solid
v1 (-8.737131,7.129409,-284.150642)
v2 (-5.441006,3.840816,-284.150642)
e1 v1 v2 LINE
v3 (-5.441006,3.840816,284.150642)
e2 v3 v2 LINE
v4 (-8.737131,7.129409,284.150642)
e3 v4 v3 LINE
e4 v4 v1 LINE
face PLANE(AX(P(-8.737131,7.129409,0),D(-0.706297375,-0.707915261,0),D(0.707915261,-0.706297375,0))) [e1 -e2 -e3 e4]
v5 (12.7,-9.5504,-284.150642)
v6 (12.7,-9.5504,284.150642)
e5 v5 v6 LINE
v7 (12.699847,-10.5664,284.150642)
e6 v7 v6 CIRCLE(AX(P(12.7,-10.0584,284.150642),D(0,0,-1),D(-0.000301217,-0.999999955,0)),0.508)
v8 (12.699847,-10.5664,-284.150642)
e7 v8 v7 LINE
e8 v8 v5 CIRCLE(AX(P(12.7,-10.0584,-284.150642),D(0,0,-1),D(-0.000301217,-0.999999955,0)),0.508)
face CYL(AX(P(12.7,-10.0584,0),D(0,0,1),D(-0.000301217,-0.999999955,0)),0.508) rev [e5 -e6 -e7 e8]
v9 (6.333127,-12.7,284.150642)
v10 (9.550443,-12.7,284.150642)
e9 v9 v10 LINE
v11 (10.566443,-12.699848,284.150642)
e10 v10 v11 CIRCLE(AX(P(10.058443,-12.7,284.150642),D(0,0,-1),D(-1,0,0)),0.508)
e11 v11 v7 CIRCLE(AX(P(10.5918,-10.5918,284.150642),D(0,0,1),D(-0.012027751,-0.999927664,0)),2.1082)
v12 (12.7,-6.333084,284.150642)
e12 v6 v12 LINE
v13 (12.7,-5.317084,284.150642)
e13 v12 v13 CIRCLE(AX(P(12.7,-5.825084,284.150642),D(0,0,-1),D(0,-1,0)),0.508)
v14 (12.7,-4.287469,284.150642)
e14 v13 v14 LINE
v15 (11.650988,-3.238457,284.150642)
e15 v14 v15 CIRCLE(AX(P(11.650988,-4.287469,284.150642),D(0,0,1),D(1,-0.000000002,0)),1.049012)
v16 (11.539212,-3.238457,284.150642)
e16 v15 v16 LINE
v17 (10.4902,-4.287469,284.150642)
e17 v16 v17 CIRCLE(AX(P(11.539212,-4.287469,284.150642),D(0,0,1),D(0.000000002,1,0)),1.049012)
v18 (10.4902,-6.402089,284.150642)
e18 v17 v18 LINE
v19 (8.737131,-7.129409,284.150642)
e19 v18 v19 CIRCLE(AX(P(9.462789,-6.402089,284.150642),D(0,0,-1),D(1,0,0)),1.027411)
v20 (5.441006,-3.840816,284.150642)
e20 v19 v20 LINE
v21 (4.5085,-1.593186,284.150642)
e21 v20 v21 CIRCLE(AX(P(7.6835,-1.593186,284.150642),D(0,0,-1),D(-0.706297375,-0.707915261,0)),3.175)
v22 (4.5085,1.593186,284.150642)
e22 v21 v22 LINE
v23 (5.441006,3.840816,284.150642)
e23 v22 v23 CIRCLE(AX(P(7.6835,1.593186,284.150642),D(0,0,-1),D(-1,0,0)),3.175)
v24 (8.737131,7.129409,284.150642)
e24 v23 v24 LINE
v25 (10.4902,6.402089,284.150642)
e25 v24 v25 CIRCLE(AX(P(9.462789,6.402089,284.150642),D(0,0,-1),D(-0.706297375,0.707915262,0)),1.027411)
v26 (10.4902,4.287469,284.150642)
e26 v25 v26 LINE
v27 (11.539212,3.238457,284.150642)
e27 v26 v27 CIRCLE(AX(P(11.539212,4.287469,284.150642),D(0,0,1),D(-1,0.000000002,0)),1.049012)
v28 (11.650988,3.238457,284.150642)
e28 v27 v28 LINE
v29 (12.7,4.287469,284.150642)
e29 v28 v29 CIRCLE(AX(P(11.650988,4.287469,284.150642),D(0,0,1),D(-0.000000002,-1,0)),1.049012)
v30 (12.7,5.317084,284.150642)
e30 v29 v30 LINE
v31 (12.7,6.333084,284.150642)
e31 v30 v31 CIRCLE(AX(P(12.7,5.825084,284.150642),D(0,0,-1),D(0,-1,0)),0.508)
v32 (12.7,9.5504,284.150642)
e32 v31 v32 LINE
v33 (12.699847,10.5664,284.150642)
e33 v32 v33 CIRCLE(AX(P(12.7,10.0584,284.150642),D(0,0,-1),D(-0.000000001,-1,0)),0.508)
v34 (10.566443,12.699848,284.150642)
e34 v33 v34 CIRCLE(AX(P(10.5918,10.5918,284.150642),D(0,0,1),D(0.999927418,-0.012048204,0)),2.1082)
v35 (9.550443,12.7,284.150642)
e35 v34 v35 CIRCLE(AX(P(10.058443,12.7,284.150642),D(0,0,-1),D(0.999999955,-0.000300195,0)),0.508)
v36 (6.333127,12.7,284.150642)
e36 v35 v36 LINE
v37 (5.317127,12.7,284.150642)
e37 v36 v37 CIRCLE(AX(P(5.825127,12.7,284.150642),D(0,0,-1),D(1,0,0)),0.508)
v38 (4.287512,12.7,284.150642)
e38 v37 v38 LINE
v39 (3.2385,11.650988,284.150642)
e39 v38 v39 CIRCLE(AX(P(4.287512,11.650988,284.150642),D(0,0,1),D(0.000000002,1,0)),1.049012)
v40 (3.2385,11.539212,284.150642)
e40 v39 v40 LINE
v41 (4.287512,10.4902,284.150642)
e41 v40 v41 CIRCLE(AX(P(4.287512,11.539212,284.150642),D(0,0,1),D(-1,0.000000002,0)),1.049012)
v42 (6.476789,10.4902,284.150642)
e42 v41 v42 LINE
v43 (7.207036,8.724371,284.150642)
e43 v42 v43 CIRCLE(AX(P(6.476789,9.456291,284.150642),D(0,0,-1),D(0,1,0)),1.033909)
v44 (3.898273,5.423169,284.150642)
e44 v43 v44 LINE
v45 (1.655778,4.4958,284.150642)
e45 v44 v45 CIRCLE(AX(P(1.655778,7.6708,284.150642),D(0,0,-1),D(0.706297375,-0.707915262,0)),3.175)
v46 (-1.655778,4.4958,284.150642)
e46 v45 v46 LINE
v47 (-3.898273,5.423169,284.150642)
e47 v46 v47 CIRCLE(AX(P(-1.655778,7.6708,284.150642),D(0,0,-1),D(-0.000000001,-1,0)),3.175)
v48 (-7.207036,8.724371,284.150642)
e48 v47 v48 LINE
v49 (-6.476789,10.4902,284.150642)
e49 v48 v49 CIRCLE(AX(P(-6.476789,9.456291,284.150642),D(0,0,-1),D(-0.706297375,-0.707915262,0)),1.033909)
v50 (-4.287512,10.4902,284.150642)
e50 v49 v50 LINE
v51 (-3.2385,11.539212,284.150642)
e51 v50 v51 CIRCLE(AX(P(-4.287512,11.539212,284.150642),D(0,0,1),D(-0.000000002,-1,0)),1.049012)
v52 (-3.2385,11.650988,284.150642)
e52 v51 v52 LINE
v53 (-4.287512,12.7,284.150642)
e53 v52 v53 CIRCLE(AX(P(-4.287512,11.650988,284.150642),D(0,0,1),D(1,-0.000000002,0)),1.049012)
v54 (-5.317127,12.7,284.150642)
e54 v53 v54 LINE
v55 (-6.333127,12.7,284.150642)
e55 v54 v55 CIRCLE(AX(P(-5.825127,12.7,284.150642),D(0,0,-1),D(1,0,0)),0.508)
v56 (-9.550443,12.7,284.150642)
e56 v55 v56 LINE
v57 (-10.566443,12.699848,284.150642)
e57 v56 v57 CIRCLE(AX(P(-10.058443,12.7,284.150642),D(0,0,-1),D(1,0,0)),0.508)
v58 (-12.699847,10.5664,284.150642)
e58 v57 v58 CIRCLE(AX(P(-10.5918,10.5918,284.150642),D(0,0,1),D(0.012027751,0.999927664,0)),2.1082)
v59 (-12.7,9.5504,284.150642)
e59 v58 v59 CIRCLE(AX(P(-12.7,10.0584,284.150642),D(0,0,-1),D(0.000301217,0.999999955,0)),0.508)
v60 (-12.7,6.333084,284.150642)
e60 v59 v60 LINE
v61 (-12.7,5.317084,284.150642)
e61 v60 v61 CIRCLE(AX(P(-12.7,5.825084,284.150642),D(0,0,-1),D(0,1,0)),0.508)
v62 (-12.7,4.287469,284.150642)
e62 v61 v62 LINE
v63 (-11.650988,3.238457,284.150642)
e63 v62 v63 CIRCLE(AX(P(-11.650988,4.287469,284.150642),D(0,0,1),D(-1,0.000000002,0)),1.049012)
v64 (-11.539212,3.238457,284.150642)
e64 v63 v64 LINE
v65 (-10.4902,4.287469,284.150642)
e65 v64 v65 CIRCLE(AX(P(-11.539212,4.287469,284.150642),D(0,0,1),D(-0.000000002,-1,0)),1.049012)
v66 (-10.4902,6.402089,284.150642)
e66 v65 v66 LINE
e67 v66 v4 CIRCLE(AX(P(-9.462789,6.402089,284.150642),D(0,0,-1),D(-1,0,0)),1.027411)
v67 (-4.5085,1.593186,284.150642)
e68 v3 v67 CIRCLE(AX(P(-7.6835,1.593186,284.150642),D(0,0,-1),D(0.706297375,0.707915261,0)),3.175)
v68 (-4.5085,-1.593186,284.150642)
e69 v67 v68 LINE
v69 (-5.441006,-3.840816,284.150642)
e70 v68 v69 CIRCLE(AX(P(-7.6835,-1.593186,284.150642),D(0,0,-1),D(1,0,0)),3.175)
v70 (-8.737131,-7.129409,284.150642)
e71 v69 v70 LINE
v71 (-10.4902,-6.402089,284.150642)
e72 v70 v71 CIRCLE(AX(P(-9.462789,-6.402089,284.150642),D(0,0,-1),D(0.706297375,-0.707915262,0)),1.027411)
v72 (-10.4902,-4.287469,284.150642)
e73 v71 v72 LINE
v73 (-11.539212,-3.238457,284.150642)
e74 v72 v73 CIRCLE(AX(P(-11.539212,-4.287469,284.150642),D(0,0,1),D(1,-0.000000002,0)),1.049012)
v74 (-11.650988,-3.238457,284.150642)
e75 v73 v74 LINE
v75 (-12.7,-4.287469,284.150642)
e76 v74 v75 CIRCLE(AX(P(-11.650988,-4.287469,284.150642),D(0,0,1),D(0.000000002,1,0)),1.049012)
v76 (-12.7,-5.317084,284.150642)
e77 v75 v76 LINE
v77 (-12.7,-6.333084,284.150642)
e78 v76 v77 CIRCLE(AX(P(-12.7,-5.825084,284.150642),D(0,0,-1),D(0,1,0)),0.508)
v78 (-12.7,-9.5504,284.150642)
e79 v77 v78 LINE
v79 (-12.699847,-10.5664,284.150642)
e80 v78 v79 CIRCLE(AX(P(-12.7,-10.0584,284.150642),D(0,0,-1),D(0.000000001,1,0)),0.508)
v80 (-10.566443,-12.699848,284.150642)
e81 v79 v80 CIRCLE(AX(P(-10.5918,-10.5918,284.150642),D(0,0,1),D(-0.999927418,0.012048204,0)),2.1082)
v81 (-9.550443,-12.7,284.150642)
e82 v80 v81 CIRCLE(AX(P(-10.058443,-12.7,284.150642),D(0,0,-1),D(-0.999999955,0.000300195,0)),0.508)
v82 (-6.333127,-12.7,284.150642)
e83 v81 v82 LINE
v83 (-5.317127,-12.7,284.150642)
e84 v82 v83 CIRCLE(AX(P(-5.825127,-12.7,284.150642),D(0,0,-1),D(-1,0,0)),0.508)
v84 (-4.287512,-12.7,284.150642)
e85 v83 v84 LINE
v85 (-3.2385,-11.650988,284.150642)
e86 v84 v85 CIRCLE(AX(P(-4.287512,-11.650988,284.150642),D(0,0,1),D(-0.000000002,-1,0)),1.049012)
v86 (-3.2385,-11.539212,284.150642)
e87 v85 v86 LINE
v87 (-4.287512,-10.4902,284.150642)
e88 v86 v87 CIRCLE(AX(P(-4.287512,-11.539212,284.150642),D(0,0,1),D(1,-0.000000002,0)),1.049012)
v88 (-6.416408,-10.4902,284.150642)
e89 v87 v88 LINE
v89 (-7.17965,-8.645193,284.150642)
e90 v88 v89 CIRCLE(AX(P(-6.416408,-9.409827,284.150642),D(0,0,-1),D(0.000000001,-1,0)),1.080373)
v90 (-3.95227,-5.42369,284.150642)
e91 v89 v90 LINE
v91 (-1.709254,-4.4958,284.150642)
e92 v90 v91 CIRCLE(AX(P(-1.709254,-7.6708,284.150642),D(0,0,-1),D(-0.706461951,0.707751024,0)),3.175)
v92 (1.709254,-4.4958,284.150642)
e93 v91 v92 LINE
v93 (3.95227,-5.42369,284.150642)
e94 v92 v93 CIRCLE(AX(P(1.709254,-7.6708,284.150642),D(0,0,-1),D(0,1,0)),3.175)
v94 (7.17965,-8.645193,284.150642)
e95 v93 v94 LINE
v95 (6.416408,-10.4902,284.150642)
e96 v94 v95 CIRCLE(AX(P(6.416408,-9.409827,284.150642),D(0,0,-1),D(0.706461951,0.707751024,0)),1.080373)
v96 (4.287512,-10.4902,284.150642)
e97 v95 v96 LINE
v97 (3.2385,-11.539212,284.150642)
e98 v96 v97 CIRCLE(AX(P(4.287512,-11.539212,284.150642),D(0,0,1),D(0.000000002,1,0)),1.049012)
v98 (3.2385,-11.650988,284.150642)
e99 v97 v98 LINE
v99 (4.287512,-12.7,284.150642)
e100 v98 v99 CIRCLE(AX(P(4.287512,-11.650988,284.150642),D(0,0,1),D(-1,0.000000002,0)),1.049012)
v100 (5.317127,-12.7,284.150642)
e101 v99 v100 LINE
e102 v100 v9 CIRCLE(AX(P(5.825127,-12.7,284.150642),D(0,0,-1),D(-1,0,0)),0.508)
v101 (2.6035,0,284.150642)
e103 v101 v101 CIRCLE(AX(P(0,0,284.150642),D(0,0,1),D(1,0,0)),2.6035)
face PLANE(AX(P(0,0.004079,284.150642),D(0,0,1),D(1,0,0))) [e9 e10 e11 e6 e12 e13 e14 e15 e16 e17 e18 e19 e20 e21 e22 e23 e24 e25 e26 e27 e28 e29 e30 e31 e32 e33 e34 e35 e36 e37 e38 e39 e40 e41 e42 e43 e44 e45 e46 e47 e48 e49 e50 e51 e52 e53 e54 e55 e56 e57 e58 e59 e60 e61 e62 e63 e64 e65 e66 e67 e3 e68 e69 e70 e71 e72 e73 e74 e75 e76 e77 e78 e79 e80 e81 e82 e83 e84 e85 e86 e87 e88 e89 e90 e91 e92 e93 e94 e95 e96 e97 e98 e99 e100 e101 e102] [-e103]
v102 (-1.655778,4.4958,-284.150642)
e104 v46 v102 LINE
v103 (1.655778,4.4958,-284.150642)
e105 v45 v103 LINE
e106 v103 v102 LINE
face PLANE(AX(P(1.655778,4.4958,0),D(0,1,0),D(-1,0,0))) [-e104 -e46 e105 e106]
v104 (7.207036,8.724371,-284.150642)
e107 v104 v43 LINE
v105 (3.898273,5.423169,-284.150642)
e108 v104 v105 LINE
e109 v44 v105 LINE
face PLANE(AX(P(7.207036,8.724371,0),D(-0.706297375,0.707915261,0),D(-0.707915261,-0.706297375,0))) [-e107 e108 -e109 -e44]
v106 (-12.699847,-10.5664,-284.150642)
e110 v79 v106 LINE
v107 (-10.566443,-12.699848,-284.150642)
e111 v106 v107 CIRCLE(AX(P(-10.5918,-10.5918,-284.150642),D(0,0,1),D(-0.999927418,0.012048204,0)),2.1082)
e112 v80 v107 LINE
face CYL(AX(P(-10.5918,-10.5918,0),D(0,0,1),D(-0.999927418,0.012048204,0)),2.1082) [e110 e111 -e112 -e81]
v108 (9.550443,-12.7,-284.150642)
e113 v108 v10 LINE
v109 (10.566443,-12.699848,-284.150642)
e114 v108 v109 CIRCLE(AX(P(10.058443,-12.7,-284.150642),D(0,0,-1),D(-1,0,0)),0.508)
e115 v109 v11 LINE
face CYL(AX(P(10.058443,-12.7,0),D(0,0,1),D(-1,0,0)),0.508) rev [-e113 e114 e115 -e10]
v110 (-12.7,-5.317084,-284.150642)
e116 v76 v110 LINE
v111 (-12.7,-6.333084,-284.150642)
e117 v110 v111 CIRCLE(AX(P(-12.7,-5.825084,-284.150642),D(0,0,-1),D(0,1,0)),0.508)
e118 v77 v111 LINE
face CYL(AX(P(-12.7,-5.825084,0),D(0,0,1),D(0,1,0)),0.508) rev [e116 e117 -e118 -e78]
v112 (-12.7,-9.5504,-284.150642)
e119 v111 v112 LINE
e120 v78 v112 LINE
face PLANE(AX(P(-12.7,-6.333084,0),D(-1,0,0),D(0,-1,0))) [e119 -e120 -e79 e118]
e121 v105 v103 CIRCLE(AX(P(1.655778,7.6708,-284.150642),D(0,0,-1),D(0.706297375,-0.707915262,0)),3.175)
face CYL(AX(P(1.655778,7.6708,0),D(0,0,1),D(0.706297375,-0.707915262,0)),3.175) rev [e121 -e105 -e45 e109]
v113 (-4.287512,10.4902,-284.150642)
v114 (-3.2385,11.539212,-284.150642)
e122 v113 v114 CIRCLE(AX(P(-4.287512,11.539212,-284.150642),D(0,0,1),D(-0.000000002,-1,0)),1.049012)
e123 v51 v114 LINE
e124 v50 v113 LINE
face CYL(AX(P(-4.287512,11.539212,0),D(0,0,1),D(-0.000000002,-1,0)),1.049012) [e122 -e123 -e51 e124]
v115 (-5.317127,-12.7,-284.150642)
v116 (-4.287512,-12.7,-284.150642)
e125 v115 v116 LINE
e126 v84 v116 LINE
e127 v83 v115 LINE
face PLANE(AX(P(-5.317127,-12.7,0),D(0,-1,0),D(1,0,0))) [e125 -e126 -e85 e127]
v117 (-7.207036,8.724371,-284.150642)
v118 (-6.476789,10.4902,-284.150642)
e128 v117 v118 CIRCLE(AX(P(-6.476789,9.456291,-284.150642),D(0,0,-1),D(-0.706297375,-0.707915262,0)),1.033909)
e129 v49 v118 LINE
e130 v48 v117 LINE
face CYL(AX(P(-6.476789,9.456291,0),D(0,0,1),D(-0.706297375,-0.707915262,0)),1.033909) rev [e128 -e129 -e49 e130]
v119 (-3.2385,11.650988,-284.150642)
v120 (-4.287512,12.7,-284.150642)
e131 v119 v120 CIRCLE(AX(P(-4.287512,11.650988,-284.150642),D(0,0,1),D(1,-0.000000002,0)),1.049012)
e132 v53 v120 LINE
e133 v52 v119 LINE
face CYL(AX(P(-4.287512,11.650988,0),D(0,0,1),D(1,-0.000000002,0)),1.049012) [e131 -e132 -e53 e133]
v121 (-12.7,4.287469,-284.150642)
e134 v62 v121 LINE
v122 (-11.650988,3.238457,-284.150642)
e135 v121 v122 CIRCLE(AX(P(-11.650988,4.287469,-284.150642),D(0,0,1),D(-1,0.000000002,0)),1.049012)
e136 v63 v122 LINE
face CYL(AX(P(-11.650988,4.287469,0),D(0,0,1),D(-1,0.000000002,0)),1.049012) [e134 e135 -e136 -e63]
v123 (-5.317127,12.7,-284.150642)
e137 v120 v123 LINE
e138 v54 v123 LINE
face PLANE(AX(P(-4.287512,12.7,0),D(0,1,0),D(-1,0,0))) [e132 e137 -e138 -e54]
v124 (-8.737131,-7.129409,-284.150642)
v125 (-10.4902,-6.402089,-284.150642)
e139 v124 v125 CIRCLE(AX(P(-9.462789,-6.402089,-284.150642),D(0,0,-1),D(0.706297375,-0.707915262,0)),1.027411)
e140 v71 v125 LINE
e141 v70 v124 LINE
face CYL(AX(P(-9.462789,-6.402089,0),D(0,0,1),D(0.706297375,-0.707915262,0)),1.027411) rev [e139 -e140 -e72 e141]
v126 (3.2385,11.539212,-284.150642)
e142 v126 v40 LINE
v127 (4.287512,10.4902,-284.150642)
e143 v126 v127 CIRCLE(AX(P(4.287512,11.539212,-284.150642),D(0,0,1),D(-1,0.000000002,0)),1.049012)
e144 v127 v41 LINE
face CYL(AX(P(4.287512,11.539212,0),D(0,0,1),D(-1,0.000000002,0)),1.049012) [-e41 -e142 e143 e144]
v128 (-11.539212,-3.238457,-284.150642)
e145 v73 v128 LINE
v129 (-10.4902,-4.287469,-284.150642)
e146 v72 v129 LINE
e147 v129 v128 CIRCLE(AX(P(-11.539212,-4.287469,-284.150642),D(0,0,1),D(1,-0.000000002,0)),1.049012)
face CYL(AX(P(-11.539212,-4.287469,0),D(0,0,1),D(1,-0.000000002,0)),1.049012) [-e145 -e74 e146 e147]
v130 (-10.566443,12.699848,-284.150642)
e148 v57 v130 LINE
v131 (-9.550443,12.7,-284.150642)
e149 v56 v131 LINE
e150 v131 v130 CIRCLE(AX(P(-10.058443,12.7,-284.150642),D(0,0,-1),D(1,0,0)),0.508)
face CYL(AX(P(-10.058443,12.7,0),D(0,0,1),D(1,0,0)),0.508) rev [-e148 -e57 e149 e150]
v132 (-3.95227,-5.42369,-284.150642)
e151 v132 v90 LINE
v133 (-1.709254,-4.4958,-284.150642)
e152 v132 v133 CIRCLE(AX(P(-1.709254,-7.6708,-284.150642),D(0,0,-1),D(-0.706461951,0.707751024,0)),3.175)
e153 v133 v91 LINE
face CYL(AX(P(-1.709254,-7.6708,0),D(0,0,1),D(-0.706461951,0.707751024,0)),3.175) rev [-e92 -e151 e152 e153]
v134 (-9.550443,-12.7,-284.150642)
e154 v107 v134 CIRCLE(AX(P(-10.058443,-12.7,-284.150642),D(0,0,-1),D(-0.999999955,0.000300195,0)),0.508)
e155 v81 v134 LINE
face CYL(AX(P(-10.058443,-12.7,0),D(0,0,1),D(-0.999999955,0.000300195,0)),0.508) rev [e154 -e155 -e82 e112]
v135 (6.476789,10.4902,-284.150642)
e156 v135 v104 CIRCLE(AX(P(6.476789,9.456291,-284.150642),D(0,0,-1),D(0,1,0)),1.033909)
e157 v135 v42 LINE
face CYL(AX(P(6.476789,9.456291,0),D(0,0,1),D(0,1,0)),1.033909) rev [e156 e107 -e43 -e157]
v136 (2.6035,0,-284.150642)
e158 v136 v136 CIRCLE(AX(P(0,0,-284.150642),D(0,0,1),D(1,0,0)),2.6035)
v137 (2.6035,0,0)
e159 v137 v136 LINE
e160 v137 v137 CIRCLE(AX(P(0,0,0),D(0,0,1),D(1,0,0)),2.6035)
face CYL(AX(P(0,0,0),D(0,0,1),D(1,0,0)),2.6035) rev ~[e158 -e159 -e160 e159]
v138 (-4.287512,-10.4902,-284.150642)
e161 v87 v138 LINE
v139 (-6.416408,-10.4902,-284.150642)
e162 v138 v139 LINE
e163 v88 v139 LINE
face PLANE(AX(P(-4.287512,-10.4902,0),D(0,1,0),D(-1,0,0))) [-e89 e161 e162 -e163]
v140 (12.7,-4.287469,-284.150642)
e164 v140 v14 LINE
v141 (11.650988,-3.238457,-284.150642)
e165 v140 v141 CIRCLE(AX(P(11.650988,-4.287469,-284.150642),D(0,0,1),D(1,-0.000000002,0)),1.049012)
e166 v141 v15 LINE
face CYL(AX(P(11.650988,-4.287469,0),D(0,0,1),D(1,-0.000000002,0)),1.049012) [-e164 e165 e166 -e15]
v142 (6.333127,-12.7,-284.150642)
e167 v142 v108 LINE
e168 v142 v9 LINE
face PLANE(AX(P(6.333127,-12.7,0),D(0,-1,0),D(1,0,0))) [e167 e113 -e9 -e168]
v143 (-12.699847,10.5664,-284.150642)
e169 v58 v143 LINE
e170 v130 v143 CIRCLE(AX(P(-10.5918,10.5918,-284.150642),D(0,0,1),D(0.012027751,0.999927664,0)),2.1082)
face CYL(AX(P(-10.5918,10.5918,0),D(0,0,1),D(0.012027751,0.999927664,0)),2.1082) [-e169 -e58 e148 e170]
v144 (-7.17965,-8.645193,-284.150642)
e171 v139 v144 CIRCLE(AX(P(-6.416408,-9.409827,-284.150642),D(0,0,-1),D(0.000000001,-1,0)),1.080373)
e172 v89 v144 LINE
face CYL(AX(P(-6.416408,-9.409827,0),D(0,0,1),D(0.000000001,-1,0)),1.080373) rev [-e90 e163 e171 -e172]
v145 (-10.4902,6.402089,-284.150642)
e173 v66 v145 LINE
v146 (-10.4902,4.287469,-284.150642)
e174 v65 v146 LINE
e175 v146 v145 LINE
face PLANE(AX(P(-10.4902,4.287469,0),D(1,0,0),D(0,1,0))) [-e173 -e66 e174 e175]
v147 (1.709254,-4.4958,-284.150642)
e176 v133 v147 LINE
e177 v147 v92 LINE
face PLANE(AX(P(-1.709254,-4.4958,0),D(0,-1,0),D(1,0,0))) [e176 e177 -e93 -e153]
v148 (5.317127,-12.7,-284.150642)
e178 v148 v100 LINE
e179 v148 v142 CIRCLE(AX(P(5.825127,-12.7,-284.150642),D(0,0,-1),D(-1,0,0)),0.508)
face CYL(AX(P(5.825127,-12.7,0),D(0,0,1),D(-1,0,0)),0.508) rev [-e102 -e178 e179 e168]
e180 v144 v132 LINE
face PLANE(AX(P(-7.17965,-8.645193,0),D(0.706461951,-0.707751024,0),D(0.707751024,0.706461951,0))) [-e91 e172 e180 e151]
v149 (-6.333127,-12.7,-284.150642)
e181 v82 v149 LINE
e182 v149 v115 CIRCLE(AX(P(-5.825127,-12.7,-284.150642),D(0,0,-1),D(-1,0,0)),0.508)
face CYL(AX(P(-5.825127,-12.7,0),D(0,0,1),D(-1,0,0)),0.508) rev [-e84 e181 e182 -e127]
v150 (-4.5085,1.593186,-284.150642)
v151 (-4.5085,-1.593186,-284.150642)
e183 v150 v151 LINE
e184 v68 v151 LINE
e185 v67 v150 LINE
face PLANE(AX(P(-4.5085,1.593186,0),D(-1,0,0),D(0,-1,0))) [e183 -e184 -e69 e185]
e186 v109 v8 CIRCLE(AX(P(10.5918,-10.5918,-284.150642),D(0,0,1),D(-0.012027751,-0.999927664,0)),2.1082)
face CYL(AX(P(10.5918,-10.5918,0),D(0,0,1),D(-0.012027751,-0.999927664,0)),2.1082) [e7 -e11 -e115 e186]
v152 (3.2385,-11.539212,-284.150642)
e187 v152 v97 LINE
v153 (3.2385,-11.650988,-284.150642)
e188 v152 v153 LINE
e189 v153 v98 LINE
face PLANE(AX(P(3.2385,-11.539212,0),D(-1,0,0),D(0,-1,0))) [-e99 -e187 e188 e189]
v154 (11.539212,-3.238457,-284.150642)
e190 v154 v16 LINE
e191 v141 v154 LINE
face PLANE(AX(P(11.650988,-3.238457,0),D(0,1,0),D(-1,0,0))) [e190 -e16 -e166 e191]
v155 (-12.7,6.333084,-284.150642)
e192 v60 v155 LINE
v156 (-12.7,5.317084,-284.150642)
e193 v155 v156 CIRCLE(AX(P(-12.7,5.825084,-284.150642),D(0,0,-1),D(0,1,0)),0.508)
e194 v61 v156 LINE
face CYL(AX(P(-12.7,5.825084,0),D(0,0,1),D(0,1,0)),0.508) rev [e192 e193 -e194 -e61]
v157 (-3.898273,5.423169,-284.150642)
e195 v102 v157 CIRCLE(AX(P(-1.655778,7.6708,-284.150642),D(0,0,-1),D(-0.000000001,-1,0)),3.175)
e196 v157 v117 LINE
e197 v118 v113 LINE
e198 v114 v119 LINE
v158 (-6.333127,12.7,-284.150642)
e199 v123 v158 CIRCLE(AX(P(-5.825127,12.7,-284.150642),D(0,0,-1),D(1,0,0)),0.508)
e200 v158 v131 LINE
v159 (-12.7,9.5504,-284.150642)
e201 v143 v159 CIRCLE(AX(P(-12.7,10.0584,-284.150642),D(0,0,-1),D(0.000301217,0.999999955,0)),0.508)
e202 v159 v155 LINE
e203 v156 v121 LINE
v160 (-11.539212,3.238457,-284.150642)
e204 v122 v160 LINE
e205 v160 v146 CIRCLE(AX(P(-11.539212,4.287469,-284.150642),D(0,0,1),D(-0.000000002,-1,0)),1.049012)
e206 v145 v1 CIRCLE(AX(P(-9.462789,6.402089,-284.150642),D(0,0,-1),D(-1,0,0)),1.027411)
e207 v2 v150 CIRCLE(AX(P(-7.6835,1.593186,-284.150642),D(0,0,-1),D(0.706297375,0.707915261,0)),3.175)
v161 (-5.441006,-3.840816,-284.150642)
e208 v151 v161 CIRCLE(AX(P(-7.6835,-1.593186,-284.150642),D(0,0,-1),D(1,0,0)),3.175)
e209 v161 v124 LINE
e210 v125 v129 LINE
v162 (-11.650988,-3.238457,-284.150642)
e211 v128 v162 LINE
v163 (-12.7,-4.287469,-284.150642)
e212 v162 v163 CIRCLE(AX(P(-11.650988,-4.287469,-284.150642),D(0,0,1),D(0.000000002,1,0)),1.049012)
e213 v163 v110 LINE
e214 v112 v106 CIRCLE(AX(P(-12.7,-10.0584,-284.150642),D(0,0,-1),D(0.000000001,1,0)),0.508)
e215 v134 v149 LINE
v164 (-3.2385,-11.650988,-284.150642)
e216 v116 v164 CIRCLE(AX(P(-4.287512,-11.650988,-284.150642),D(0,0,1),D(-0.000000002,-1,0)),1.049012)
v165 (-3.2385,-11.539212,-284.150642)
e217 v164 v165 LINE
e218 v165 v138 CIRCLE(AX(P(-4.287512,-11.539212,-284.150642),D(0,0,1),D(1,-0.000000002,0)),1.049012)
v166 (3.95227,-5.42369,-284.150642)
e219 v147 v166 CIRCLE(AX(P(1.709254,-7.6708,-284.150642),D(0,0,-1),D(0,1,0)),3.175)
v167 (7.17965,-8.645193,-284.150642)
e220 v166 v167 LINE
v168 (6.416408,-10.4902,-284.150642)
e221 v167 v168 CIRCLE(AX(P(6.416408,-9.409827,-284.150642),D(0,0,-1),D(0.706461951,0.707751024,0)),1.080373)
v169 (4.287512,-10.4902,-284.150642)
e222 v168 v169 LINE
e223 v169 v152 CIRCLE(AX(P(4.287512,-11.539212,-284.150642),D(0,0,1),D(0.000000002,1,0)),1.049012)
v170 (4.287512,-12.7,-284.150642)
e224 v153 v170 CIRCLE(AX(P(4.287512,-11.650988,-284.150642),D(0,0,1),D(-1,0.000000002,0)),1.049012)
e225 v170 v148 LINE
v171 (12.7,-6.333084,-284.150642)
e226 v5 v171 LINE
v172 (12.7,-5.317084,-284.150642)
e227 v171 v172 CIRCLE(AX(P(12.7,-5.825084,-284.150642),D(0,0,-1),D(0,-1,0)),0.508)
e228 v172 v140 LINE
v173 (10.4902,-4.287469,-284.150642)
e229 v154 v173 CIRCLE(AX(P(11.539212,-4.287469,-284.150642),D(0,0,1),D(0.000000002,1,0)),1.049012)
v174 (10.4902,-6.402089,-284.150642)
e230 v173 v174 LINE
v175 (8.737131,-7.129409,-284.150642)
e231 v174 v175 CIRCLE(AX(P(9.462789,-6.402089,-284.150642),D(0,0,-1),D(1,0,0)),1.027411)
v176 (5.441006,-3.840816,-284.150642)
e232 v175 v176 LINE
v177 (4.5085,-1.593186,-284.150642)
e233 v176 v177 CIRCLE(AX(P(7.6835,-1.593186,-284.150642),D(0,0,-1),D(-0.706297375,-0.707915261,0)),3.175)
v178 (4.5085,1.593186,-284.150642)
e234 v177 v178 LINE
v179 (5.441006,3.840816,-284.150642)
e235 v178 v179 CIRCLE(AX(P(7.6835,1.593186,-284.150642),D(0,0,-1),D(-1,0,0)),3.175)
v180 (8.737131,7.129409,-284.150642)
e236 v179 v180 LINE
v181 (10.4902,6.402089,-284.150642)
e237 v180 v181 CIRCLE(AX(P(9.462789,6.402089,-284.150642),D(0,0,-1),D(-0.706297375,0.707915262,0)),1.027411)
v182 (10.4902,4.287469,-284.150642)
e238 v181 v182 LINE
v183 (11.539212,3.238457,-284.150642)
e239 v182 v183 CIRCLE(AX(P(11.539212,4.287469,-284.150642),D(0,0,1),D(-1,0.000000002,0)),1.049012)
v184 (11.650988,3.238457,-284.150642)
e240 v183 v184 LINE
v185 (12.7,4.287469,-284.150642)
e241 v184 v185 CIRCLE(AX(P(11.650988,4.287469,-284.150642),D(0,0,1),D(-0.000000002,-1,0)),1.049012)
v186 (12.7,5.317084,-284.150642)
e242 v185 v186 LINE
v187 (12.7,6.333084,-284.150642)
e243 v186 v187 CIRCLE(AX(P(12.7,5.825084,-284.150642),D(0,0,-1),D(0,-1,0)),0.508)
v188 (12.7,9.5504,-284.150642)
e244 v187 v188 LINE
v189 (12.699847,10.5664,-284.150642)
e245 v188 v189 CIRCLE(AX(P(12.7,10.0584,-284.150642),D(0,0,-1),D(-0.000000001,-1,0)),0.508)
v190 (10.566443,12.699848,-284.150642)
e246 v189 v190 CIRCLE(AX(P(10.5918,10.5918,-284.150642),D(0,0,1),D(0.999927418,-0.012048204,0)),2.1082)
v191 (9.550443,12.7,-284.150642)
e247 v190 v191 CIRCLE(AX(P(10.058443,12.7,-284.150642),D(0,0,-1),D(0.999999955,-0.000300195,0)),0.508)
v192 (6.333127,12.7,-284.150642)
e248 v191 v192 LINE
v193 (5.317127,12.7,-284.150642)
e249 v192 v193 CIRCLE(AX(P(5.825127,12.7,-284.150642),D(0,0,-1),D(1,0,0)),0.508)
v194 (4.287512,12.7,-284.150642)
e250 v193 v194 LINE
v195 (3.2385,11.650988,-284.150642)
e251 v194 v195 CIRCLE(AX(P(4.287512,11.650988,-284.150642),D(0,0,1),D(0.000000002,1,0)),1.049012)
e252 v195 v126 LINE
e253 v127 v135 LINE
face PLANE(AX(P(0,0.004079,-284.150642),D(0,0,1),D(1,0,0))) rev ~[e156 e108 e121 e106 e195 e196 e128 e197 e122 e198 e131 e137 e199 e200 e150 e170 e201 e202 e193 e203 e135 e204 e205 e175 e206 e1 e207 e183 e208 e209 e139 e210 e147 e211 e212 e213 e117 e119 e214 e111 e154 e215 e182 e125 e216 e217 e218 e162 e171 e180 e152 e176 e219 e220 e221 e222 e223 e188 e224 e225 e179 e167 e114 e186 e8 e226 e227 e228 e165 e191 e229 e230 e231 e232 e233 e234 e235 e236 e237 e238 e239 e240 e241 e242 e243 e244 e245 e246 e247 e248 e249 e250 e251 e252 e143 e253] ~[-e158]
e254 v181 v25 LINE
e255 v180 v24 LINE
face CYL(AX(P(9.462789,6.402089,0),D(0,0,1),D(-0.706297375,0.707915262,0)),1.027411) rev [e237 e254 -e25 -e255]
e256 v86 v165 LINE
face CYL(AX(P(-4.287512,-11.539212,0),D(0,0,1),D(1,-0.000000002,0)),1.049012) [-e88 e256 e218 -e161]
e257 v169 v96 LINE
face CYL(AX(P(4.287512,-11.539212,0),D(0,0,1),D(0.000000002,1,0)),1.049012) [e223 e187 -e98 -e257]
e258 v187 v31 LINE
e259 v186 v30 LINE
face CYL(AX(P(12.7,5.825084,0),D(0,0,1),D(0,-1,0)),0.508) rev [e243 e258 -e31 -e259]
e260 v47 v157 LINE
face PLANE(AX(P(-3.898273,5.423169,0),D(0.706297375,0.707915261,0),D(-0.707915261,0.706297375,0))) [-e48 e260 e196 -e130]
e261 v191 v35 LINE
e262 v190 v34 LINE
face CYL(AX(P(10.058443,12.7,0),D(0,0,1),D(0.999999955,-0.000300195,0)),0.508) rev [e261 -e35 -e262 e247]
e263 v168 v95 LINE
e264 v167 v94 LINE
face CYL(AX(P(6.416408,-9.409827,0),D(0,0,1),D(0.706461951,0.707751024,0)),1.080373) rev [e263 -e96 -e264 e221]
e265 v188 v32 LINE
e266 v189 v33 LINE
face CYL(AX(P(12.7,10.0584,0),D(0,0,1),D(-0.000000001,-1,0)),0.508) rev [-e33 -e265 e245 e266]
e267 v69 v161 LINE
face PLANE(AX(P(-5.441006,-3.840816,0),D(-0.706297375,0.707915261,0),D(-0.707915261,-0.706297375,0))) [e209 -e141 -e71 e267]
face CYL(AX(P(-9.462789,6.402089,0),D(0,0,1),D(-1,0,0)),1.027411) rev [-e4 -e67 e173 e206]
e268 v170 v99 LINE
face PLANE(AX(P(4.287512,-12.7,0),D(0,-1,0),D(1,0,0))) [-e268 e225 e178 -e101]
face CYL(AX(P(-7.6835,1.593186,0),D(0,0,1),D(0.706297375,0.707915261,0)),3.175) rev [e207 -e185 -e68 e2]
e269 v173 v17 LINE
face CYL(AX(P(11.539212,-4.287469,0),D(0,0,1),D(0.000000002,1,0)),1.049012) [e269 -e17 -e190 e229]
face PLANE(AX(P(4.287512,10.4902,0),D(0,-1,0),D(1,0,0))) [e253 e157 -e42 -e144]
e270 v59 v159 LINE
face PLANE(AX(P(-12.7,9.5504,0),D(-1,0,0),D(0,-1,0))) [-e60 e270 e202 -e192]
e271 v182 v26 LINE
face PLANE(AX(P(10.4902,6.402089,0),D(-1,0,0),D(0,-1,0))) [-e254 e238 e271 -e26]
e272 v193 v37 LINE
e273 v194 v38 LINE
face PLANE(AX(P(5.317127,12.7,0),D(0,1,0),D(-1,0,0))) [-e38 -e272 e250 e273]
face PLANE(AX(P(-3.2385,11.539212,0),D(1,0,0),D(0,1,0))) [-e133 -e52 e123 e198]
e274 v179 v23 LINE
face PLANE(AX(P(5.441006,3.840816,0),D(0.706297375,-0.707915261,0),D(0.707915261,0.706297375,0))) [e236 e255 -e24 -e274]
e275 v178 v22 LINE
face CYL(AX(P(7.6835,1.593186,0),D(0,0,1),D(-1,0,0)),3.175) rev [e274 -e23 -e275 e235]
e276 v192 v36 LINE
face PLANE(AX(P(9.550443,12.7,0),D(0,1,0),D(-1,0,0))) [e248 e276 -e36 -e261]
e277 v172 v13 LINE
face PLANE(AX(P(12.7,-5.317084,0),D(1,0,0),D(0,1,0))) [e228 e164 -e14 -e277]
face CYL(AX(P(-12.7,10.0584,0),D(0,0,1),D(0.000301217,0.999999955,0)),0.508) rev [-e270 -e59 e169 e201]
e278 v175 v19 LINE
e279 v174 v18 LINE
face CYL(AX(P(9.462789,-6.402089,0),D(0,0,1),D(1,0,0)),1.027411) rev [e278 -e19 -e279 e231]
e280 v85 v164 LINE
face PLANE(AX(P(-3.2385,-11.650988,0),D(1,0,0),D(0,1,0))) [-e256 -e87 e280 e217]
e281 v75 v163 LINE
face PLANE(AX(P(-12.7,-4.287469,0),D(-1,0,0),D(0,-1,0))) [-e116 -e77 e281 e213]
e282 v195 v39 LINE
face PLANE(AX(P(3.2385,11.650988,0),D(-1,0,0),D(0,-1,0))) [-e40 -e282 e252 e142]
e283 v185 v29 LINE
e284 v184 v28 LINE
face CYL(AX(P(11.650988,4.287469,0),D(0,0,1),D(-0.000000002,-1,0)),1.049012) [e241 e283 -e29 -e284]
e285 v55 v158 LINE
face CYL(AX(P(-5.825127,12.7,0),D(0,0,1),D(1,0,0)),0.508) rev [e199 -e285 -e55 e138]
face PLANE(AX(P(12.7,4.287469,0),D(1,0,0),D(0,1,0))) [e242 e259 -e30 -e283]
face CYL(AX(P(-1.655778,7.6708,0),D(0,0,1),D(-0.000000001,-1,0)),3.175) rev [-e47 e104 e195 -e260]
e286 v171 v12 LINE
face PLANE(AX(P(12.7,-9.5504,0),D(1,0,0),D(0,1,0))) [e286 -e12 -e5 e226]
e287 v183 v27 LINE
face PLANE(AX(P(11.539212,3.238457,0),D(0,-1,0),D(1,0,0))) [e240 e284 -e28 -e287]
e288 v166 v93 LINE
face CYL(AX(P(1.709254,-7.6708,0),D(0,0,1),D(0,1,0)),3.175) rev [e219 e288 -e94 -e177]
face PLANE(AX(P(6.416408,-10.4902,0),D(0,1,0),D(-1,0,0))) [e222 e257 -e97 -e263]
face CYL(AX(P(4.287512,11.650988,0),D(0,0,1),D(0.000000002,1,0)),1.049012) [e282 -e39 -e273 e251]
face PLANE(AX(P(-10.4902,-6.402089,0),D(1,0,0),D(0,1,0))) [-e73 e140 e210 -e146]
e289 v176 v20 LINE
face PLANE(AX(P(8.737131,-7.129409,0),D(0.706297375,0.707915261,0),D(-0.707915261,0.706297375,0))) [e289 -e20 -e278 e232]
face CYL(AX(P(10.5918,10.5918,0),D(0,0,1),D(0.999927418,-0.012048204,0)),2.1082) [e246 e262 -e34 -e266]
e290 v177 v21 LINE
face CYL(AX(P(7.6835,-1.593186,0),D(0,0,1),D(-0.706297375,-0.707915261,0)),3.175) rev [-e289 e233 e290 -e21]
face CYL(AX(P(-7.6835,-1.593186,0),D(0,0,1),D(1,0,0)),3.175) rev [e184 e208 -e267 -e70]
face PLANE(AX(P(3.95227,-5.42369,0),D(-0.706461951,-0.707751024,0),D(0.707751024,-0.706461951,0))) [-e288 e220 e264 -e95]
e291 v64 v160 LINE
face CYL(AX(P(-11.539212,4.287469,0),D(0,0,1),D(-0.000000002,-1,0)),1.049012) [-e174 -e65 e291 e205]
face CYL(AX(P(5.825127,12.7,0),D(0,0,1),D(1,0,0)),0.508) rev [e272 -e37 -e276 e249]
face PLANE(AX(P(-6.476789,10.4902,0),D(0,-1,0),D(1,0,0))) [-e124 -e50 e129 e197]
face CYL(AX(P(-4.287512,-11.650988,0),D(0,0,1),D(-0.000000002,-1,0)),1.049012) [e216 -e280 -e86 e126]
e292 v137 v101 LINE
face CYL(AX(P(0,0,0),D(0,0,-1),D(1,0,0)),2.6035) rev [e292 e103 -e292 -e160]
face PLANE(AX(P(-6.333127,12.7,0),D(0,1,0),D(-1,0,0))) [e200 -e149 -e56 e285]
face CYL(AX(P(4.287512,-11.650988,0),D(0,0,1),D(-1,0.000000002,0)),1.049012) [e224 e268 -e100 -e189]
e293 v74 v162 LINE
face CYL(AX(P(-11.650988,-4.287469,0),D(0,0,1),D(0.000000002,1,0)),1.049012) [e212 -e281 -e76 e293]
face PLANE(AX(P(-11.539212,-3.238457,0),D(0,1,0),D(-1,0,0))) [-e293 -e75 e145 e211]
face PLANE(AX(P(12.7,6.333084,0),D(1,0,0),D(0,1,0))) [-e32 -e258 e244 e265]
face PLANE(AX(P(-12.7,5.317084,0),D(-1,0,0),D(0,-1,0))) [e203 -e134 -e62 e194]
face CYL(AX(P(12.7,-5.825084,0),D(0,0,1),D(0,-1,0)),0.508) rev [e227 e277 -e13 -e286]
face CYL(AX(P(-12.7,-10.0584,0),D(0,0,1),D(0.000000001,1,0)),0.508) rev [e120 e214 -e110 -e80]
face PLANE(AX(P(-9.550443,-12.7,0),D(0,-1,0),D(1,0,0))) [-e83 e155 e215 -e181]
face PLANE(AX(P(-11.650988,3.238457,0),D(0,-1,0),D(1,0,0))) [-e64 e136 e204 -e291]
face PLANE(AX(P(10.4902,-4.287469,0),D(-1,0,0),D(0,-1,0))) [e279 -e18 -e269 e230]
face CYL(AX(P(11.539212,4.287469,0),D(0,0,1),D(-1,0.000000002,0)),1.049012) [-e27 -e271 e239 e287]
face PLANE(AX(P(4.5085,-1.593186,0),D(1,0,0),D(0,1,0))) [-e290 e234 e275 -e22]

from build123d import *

# Parameters (mm, degrees)
SKETCH3_R                = 2.6035
BOSS_EXTRUDE1_DEPTH      = 284.150642
BOSS_EXTRUDE1_DEPTH_BACK = 284.150642


with BuildPart() as part:
    # Sketch3 → Boss-Extrude1 (new body, two sides)
    with BuildSketch(Plane.XY) as boss_extrude1_sk:
        with BuildLine():
            Line((-7.179650497, -8.645192506), (-3.952270251, -5.423690499))
            ThreePointArc((-3.952270251, -5.423690499), (-2.922936451, -4.736929036), (-1.709253557, -4.4958))
            Line((-1.709253557, -4.4958), (1.709253557, -4.4958))
            ThreePointArc((1.709253557, -4.4958), (2.922936451, -4.736929036), (3.952270251, -5.423690499))
            Line((3.952270251, -5.423690499), (7.179650497, -8.645192506))
            ThreePointArc((7.179650497, -8.645192506), (7.41473083, -9.822813117), (6.416408329, -10.4902))
            Line((6.416408329, -10.4902), (4.287512407, -10.4902))
            ThreePointArc((4.287512407, -10.4902), (3.54574862, -10.79744862), (3.2385, -11.539212407))
            Line((3.2385, -11.539212407), (3.2385, -11.650987593))
            ThreePointArc((3.2385, -11.650987593), (3.54574862, -12.39275138), (4.287512407, -12.7))
            Line((4.287512407, -12.7), (5.317126718, -12.7))
            ThreePointArc((5.317126718, -12.7), (5.825126718, -12.192), (6.333126718, -12.7))
            Line((6.333126718, -12.7), (9.550443118, -12.7))
            ThreePointArc((9.550443118, -12.7), (10.058366869, -12.192000006), (10.566443095, -12.699847501))
            ThreePointArc((10.566443095, -12.699847501), (12.082537762, -12.08250727), (12.699846982, -10.566399977))
            ThreePointArc((12.699846982, -10.566399977), (12.192000006, -10.058323491), (12.7, -9.5504))
            Line((12.7, -9.5504), (12.7, -6.3330836))
            ThreePointArc((12.7, -6.3330836), (12.192, -5.8250836), (12.7, -5.3170836))
            Line((12.7, -5.3170836), (12.7, -4.287469289))
            ThreePointArc((12.7, -4.287469289), (12.39275138, -3.545705502), (11.650987593, -3.238456882))
            Line((11.650987593, -3.238456882), (11.539212407, -3.238456882))
            ThreePointArc((11.539212407, -3.238456882), (10.79744862, -3.545705502), (10.4902, -4.287469289))
            Line((10.4902, -4.287469289), (10.4902, -6.402089023))
            ThreePointArc((10.4902, -6.402089023), (9.856505071, -7.351067942), (8.737131347, -7.129408934))
            Line((8.737131347, -7.129408934), (5.441005833, -3.840816462))
            ThreePointArc((5.441005833, -3.840816462), (4.750877967, -2.809883091), (4.5085, -1.593185507))
            Line((4.5085, -1.593185507), (4.5085, 1.593185507))
            ThreePointArc((4.5085, 1.593185507), (4.750877967, 2.809883091), (5.441005833, 3.840816462))
            Line((5.441005833, 3.840816462), (8.737131347, 7.129408934))
            ThreePointArc((8.737131347, 7.129408934), (9.856505071, 7.351067942), (10.4902, 6.402089023))
            Line((10.4902, 6.402089023), (10.4902, 4.287469289))
            ThreePointArc((10.4902, 4.287469289), (10.79744862, 3.545705502), (11.539212407, 3.238456882))
            Line((11.539212407, 3.238456882), (11.650987593, 3.238456882))
            ThreePointArc((11.650987593, 3.238456882), (12.39275138, 3.545705502), (12.7, 4.287469289))
            Line((12.7, 4.287469289), (12.7, 5.3170836))
            ThreePointArc((12.7, 5.3170836), (12.192, 5.8250836), (12.7, 6.3330836))
            Line((12.7, 6.3330836), (12.7, 9.5504))
            ThreePointArc((12.7, 9.5504), (12.192000006, 10.058323491), (12.699846982, 10.566399977))
            ThreePointArc((12.699846982, 10.566399977), (12.082537762, 12.08250727), (10.566443095, 12.699847501))
            ThreePointArc((10.566443095, 12.699847501), (10.058366869, 12.192000006), (9.550443118, 12.7))
            Line((9.550443118, 12.7), (6.333126718, 12.7))
            ThreePointArc((6.333126718, 12.7), (5.825126718, 12.192), (5.317126718, 12.7))
            Line((5.317126718, 12.7), (4.287512407, 12.7))
            ThreePointArc((4.287512407, 12.7), (3.54574862, 12.39275138), (3.2385, 11.650987593))
            Line((3.2385, 11.650987593), (3.2385, 11.539212407))
            ThreePointArc((3.2385, 11.539212407), (3.54574862, 10.79744862), (4.287512407, 10.4902))
            Line((4.287512407, 10.4902), (6.476788598, 10.4902))
            ThreePointArc((6.476788598, 10.4902), (7.432222385, 9.85140422), (7.207036008, 8.724370562))
            Line((7.207036008, 8.724370562), (3.898272566, 5.423169045))
            ThreePointArc((3.898272566, 5.423169045), (2.869120213, 4.736787962), (1.655778399, 4.4958))
            Line((1.655778399, 4.4958), (-1.655778399, 4.4958))
            ThreePointArc((-1.655778399, 4.4958), (-2.869120213, 4.736787962), (-3.898272566, 5.423169045))
            Line((-3.898272566, 5.423169045), (-7.207036008, 8.724370562))
            ThreePointArc((-7.207036008, 8.724370562), (-7.432222385, 9.85140422), (-6.476788598, 10.4902))
            Line((-6.476788598, 10.4902), (-4.287512407, 10.4902))
            ThreePointArc((-4.287512407, 10.4902), (-3.54574862, 10.79744862), (-3.2385, 11.539212407))
            Line((-3.2385, 11.539212407), (-3.2385, 11.650987593))
            ThreePointArc((-3.2385, 11.650987593), (-3.54574862, 12.39275138), (-4.287512407, 12.7))
            Line((-4.287512407, 12.7), (-5.317126718, 12.7))
            ThreePointArc((-5.317126718, 12.7), (-5.825126718, 12.192), (-6.333126718, 12.7))
            Line((-6.333126718, 12.7), (-9.550443118, 12.7))
            ThreePointArc((-9.550443118, 12.7), (-10.058366869, 12.192000006), (-10.566443095, 12.699847501))
            ThreePointArc((-10.566443095, 12.699847501), (-12.082537762, 12.08250727), (-12.699846982, 10.566399977))
            ThreePointArc((-12.699846982, 10.566399977), (-12.192000006, 10.058323491), (-12.7, 9.5504))
            Line((-12.7, 9.5504), (-12.7, 6.3330836))
            ThreePointArc((-12.7, 6.3330836), (-12.192, 5.8250836), (-12.7, 5.3170836))
            Line((-12.7, 5.3170836), (-12.7, 4.287469289))
            ThreePointArc((-12.7, 4.287469289), (-12.39275138, 3.545705502), (-11.650987593, 3.238456882))
            Line((-11.650987593, 3.238456882), (-11.539212407, 3.238456882))
            ThreePointArc((-11.539212407, 3.238456882), (-10.79744862, 3.545705502), (-10.4902, 4.287469289))
            Line((-10.4902, 4.287469289), (-10.4902, 6.402089023))
            ThreePointArc((-10.4902, 6.402089023), (-9.856505071, 7.351067942), (-8.737131347, 7.129408934))
            Line((-8.737131347, 7.129408934), (-5.441005833, 3.840816462))
            ThreePointArc((-5.441005833, 3.840816462), (-4.750877967, 2.809883091), (-4.5085, 1.593185507))
            Line((-4.5085, 1.593185507), (-4.5085, -1.593185507))
            ThreePointArc((-4.5085, -1.593185507), (-4.750877967, -2.809883091), (-5.441005833, -3.840816462))
            Line((-5.441005833, -3.840816462), (-8.737131347, -7.129408934))
            ThreePointArc((-8.737131347, -7.129408934), (-9.856505071, -7.351067942), (-10.4902, -6.402089023))
            Line((-10.4902, -6.402089023), (-10.4902, -4.287469289))
            ThreePointArc((-10.4902, -4.287469289), (-10.79744862, -3.545705502), (-11.539212407, -3.238456882))
            Line((-11.539212407, -3.238456882), (-11.650987593, -3.238456882))
            ThreePointArc((-11.650987593, -3.238456882), (-12.39275138, -3.545705502), (-12.7, -4.287469289))
            Line((-12.7, -4.287469289), (-12.7, -5.3170836))
            ThreePointArc((-12.7, -5.3170836), (-12.192, -5.8250836), (-12.7, -6.3330836))
            Line((-12.7, -6.3330836), (-12.7, -9.5504))
            ThreePointArc((-12.7, -9.5504), (-12.192000006, -10.058323491), (-12.699846982, -10.566399977))
            ThreePointArc((-12.699846982, -10.566399977), (-12.082537762, -12.08250727), (-10.566443095, -12.699847501))
            ThreePointArc((-10.566443095, -12.699847501), (-10.058366869, -12.192000006), (-9.550443118, -12.7))
            Line((-9.550443118, -12.7), (-6.333126718, -12.7))
            ThreePointArc((-6.333126718, -12.7), (-5.825126718, -12.192), (-5.317126718, -12.7))
            Line((-5.317126718, -12.7), (-4.287512407, -12.7))
            ThreePointArc((-4.287512407, -12.7), (-3.54574862, -12.39275138), (-3.2385, -11.650987593))
            Line((-3.2385, -11.650987593), (-3.2385, -11.539212407))
            ThreePointArc((-3.2385, -11.539212407), (-3.54574862, -10.79744862), (-4.287512407, -10.4902))
            Line((-4.287512407, -10.4902), (-6.416408329, -10.4902))
            ThreePointArc((-6.416408329, -10.4902), (-7.41473083, -9.822813117), (-7.179650497, -8.645192506))
        make_face()
        Circle(SKETCH3_R, mode=Mode.SUBTRACT)
    extrude(amount=BOSS_EXTRUDE1_DEPTH)
    extrude(boss_extrude1_sk.sketch, amount=-BOSS_EXTRUDE1_DEPTH_BACK)


solid = part.part
